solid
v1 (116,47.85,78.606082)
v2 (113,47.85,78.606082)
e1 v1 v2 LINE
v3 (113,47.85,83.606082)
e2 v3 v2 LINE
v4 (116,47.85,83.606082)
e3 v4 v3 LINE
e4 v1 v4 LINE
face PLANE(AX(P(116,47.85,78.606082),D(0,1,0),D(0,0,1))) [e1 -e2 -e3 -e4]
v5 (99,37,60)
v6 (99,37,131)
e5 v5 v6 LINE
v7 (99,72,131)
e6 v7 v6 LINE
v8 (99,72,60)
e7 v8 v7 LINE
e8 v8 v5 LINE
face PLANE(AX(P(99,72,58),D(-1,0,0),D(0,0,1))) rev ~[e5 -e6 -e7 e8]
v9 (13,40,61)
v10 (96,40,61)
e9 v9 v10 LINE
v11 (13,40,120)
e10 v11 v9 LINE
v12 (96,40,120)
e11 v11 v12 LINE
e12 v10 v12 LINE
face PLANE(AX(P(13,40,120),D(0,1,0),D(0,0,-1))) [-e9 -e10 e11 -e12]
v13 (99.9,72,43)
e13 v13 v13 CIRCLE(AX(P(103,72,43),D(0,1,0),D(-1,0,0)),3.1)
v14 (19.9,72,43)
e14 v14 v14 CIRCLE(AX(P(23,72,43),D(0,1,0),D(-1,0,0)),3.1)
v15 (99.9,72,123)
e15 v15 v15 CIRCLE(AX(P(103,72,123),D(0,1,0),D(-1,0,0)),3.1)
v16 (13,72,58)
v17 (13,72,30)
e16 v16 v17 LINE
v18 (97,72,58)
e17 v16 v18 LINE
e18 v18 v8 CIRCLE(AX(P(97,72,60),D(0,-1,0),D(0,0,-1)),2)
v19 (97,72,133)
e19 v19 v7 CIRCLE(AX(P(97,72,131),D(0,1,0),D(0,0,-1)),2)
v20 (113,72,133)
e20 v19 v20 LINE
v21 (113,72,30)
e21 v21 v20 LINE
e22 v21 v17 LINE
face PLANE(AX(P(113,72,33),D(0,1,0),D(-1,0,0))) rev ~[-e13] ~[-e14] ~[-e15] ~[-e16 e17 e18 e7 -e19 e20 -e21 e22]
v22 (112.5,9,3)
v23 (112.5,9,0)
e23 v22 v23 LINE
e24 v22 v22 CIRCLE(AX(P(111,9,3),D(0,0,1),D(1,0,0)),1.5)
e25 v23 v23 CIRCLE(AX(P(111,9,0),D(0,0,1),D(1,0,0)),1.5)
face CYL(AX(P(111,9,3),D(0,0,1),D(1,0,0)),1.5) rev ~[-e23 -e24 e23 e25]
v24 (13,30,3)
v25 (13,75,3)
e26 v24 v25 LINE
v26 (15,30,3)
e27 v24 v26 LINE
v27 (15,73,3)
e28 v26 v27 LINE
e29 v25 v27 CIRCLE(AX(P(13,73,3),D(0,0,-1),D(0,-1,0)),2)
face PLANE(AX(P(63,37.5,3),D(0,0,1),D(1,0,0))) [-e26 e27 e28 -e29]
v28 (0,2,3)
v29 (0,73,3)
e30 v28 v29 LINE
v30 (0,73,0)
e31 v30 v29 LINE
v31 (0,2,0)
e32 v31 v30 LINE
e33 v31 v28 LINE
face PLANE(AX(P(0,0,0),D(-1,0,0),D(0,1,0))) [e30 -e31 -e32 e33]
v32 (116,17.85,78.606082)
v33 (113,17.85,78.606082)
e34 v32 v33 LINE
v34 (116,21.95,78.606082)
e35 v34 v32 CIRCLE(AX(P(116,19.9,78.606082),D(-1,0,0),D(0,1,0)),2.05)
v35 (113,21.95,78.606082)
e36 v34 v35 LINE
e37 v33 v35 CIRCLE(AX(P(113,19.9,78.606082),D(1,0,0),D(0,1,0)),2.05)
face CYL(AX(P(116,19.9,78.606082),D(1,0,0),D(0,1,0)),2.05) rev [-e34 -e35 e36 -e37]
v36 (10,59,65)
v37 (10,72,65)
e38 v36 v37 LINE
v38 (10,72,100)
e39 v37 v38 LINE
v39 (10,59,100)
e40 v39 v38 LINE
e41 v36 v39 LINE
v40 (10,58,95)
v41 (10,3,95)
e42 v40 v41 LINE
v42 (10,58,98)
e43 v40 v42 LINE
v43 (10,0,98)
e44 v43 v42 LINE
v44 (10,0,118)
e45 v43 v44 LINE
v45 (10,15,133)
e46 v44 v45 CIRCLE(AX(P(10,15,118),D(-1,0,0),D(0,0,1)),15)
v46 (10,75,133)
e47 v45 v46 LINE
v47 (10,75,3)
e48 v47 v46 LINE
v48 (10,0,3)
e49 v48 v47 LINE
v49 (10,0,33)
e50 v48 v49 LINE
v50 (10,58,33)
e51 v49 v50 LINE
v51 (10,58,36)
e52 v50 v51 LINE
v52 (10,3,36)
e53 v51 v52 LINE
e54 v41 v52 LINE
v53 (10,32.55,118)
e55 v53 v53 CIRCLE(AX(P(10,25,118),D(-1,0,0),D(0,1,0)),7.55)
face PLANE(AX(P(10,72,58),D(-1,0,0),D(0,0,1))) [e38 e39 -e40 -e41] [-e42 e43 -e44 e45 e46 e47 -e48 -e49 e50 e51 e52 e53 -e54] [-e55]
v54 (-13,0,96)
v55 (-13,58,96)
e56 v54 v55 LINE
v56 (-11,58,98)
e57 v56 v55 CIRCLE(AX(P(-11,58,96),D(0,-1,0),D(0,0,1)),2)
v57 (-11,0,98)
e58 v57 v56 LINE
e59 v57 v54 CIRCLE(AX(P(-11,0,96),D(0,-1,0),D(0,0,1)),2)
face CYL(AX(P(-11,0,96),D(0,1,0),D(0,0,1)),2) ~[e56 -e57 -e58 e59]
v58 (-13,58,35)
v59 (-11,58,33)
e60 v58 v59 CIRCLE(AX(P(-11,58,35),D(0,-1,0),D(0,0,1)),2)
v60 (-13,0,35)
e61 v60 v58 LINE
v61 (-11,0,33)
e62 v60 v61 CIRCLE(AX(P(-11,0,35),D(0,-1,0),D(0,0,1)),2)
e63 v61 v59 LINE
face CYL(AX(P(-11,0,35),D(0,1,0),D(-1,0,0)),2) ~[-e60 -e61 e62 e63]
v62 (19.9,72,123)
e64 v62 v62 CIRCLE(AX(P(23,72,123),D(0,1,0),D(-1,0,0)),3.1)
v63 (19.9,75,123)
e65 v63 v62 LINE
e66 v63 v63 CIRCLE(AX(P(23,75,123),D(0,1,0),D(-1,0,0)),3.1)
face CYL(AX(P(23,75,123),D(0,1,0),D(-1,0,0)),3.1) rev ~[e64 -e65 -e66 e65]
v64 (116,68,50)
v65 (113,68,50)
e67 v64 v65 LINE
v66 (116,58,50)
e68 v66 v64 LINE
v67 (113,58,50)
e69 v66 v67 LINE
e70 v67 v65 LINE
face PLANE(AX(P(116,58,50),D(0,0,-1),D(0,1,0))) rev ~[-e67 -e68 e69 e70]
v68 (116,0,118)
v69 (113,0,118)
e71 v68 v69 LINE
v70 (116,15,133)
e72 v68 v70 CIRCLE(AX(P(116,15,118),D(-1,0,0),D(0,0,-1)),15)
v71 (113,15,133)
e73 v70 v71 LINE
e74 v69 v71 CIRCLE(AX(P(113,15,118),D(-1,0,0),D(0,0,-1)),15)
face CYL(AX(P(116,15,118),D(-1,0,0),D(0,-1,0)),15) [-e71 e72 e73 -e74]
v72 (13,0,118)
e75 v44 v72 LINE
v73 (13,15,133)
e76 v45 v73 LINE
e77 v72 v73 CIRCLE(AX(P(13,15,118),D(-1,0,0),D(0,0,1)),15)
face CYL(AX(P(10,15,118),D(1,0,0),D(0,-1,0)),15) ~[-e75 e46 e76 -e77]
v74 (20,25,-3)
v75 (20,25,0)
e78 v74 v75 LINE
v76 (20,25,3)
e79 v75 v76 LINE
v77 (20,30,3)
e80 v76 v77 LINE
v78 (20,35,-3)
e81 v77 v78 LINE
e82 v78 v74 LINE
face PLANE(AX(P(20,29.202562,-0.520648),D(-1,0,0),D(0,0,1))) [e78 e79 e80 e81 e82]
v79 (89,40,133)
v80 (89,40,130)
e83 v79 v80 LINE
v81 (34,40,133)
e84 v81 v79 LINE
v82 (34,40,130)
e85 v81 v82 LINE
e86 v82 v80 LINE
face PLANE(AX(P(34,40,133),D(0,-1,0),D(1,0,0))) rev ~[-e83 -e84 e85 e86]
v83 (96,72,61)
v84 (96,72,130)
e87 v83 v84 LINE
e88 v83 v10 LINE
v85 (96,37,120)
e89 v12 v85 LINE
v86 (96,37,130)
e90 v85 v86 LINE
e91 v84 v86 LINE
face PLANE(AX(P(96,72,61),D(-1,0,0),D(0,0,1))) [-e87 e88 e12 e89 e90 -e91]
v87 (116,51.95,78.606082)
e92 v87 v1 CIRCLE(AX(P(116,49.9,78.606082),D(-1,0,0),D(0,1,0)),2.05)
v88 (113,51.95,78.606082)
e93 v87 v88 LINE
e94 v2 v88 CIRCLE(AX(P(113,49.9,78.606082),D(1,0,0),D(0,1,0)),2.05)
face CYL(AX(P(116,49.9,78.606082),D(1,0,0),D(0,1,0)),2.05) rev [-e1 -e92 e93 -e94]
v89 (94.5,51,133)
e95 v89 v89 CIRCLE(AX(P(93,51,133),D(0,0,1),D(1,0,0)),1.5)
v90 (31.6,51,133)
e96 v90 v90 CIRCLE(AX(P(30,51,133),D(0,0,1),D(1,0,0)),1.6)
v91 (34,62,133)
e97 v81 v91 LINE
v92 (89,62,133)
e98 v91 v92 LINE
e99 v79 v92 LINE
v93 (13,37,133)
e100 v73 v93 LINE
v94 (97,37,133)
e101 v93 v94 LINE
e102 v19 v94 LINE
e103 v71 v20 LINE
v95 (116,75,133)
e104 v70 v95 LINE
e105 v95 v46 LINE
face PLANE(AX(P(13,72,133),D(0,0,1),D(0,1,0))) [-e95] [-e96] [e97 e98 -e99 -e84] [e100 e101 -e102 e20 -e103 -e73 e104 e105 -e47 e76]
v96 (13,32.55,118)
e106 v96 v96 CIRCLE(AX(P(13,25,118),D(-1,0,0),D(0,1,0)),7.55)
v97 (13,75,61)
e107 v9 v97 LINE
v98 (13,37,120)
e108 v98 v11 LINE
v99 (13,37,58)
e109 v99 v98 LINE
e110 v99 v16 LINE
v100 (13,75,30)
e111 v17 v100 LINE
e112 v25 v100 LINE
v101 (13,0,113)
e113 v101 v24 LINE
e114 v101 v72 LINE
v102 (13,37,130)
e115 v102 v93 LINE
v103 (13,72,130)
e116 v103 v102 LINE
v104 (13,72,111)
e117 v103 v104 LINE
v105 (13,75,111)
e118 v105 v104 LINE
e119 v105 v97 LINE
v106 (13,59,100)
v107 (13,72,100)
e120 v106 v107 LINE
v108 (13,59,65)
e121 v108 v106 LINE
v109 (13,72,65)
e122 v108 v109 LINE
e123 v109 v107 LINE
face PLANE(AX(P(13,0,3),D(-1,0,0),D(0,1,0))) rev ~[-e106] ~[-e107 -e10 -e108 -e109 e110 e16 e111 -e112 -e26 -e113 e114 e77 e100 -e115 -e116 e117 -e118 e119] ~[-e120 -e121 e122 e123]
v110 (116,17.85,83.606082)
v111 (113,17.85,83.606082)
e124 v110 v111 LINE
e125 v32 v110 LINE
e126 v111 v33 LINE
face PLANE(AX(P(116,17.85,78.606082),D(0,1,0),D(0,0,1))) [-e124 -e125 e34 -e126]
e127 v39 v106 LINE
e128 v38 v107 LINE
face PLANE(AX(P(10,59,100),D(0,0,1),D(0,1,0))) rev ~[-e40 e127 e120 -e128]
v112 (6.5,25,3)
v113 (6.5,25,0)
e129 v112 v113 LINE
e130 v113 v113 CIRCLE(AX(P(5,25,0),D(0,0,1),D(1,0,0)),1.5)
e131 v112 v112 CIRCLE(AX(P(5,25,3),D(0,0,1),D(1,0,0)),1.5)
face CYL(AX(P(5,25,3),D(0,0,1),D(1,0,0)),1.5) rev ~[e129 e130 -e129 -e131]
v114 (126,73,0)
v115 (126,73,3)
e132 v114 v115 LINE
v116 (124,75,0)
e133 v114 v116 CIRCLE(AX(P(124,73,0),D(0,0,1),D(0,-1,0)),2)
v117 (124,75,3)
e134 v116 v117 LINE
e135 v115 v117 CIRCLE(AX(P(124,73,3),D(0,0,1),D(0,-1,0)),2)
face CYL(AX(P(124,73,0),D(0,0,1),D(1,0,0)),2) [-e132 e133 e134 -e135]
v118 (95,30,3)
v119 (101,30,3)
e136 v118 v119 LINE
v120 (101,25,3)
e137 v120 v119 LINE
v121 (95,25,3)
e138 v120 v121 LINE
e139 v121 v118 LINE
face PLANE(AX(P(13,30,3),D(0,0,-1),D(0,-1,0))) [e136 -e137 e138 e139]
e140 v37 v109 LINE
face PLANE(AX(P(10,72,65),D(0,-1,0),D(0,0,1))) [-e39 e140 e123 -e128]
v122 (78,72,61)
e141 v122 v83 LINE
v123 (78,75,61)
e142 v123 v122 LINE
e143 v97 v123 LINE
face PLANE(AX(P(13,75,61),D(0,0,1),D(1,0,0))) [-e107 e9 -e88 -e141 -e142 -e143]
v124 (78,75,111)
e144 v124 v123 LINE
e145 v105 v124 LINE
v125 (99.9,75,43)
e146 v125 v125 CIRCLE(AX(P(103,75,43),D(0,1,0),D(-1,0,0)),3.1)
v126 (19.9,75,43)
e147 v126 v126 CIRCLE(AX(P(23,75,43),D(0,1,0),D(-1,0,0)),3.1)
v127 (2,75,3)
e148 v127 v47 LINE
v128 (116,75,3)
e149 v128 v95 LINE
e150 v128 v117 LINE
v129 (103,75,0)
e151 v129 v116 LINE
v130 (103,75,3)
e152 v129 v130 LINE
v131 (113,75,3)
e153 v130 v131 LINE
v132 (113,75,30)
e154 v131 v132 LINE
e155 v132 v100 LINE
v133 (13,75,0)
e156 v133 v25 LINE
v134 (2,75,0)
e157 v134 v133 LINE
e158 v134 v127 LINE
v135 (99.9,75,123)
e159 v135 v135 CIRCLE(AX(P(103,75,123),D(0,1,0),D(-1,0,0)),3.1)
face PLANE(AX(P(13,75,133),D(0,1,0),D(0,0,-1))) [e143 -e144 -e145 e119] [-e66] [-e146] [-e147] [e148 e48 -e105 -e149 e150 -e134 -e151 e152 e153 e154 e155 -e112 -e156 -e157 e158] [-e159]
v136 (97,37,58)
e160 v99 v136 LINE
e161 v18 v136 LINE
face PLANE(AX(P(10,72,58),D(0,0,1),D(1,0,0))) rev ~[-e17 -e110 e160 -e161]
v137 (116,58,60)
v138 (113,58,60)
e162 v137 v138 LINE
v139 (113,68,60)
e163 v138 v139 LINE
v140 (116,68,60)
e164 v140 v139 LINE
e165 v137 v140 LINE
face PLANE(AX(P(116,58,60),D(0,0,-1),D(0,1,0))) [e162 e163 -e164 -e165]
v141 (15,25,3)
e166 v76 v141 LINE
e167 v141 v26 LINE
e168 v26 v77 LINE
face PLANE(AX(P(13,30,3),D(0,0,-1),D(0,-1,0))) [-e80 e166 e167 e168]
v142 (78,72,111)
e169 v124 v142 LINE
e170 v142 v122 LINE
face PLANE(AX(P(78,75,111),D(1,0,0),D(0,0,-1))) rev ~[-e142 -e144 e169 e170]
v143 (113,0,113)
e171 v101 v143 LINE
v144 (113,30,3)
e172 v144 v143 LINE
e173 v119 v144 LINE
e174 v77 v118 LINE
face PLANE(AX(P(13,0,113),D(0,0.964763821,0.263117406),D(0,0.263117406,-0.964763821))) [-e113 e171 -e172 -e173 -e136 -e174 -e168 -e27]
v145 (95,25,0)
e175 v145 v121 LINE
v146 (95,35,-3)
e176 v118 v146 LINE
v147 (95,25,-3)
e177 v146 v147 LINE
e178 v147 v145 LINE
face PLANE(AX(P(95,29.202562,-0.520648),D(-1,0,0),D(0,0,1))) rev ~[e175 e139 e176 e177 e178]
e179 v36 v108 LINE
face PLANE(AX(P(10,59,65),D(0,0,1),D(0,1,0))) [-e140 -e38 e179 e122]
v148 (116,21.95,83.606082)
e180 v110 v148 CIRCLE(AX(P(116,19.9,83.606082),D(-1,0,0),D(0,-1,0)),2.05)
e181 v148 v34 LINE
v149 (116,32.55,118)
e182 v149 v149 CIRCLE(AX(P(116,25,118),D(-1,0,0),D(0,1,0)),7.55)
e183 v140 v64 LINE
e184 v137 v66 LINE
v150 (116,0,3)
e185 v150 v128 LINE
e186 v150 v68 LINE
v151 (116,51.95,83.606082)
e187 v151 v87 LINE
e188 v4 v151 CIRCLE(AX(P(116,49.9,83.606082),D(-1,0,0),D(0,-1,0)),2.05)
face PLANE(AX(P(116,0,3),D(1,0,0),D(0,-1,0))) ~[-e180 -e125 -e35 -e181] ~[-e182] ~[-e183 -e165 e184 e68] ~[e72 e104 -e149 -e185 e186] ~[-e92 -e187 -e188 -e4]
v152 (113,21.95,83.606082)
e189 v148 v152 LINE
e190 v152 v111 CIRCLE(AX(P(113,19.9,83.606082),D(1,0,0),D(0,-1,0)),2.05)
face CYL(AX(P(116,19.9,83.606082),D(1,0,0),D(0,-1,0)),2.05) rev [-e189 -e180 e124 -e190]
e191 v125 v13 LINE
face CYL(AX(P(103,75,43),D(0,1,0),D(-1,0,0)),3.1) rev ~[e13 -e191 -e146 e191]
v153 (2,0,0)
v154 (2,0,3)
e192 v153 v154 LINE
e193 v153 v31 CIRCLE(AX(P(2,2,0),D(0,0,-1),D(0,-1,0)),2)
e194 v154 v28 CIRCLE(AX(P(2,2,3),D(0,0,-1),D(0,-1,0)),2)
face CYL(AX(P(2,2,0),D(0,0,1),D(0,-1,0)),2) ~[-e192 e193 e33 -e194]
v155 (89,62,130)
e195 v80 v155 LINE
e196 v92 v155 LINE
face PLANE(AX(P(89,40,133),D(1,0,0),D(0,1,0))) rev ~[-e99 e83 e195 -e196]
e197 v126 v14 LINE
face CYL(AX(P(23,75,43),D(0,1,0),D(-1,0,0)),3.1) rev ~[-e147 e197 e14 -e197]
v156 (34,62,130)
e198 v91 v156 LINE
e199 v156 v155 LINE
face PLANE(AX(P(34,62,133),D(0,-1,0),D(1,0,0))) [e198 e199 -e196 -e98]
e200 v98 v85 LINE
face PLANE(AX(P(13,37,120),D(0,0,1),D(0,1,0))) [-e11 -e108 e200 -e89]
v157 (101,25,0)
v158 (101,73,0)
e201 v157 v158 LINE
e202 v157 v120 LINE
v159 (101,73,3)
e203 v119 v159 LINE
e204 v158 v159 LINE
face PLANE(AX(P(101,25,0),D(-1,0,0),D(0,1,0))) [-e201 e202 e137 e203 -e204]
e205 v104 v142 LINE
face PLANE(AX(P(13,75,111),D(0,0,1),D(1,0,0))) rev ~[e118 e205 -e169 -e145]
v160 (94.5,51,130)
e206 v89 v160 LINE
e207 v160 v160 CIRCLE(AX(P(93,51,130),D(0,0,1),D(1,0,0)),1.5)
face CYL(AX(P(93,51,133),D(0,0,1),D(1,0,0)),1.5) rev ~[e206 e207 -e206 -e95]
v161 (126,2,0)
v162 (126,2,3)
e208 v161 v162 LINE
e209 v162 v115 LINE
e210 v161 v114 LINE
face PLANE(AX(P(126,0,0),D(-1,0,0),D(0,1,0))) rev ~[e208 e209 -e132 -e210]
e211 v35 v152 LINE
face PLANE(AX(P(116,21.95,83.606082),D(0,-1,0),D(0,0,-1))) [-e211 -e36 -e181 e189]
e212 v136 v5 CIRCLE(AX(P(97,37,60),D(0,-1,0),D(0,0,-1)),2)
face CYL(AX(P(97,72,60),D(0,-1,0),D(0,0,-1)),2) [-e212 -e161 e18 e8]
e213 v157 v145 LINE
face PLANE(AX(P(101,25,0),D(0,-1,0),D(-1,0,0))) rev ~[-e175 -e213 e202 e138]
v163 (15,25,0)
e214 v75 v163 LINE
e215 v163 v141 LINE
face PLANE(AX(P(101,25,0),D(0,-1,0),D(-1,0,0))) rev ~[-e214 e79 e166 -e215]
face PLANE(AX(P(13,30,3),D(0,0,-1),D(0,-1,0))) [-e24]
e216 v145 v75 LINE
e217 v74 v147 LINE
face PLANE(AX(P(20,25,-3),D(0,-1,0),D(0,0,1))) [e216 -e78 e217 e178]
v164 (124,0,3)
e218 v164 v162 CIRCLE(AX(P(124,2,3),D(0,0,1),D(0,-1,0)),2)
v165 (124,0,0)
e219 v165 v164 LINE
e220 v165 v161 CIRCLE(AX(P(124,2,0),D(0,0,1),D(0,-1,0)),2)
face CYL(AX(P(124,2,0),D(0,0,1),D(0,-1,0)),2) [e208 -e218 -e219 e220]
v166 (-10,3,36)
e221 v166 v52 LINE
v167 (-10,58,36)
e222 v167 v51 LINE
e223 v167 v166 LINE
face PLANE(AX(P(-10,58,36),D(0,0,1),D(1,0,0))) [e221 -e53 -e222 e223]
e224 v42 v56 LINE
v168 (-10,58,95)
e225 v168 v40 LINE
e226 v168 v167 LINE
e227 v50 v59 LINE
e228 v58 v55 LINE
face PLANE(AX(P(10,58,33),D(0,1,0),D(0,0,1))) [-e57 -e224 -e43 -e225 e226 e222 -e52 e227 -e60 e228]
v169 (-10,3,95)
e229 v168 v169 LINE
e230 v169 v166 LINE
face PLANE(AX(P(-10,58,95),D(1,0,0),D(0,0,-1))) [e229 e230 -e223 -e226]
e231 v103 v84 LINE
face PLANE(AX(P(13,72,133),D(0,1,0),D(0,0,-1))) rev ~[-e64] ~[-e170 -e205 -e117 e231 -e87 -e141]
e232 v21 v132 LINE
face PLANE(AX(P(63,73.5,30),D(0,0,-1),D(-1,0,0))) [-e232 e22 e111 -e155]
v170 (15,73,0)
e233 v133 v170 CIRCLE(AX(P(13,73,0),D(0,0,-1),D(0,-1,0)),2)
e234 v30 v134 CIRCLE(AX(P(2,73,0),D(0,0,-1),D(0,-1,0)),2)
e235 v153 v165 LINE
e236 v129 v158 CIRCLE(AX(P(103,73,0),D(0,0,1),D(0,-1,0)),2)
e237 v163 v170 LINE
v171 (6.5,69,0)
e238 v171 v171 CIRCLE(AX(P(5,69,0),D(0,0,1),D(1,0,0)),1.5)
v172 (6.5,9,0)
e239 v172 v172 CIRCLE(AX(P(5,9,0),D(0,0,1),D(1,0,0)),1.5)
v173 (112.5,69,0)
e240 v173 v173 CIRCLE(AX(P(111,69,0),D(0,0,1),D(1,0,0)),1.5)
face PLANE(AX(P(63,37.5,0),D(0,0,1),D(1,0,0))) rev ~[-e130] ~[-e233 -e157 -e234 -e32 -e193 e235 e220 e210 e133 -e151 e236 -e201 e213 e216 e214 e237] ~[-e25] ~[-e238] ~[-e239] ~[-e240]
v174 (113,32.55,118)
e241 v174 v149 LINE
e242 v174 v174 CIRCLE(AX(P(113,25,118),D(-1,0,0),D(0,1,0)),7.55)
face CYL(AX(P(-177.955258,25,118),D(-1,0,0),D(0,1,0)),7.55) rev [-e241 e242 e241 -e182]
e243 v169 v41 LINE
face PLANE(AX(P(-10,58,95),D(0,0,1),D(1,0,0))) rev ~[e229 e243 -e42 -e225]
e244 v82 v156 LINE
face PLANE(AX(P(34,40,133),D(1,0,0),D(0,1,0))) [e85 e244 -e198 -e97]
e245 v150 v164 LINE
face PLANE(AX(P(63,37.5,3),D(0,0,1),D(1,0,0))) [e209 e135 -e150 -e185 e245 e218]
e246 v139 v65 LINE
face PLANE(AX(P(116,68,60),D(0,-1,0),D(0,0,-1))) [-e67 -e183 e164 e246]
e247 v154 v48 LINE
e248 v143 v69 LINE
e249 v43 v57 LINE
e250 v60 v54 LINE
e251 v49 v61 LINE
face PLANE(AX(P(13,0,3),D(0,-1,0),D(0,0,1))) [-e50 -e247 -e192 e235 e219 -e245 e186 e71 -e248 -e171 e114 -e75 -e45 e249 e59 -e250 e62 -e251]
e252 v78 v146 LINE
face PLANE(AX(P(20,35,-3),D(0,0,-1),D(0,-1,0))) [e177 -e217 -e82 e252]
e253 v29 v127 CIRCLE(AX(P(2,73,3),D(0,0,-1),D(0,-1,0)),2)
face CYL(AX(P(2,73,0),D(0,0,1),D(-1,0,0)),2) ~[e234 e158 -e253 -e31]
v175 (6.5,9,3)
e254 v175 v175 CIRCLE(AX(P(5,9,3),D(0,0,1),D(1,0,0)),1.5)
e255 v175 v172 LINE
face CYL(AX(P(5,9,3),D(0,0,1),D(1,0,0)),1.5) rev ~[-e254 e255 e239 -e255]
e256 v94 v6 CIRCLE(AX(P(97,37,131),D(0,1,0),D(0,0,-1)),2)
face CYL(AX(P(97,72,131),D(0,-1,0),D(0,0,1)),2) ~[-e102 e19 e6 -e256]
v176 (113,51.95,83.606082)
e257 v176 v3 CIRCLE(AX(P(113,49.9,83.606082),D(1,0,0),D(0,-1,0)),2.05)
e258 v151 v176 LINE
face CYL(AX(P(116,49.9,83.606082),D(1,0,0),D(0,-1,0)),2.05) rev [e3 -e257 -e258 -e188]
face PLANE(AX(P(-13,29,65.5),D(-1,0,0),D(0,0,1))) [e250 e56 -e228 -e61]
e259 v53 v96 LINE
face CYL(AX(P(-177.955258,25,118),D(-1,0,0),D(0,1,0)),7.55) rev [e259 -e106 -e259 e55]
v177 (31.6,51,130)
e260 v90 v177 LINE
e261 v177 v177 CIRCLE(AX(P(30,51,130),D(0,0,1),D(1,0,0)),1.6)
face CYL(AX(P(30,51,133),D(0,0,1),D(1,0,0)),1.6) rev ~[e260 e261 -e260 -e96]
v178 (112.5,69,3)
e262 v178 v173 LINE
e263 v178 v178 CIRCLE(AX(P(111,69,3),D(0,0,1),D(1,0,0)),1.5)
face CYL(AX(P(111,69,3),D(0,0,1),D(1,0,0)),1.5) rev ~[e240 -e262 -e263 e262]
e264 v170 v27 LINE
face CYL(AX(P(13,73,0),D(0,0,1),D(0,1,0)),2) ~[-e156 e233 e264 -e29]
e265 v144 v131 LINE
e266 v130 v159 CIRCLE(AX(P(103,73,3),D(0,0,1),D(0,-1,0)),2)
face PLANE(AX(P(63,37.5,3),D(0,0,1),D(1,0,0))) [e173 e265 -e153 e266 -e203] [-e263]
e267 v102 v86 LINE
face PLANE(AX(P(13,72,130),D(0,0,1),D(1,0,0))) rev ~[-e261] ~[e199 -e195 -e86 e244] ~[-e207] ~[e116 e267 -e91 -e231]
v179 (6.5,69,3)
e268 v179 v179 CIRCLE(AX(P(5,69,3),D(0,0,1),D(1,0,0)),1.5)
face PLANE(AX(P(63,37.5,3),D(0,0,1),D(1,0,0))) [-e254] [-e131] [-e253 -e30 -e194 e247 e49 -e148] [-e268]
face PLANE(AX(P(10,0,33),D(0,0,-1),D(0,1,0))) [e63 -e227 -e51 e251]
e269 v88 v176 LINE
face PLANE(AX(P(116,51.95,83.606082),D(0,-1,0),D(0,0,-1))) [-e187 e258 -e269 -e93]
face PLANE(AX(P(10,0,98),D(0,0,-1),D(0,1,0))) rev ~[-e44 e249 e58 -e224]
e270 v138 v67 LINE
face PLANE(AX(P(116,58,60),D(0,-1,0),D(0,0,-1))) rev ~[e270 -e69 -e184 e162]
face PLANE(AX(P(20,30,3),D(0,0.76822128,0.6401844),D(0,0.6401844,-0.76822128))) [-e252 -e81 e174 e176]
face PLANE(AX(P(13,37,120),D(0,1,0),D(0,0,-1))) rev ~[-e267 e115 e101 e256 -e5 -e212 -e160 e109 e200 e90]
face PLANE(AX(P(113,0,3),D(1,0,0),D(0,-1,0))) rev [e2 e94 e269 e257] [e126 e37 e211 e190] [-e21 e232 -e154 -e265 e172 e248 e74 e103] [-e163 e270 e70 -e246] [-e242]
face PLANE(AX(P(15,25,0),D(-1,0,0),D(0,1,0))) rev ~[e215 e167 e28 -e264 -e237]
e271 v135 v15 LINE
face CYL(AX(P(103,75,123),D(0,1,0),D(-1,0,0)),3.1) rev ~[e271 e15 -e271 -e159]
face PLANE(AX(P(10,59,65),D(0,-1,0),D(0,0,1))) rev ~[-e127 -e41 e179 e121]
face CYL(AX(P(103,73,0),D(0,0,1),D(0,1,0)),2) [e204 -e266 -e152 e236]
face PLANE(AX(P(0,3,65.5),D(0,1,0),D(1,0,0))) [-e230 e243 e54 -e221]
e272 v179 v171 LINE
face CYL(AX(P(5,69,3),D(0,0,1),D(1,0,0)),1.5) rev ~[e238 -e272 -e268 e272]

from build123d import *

# Parameters (mm, degrees)
SKETCH_1_W                      = 126
SKETCH_1_H                      = 75
EXTRUDE_1_DEPTH                 = 3
CUT_EXTRUDE_2_REACH             = 148.663
SKETCH_3_W                      = 86
SKETCH_3_H                      = 50
SKETCH_2_R                      = 1.5
CUT_EXTRUDE_1_DEPTH             = 147.662878739
SKETCH_4_W                      = 3
SKETCH_4_H                      = 75
EXTRUDE_2_DEPTH                 = 130
SKETCH_10_W                     = 100
SKETCH_10_H                     = 3
EXTRUDE_5_DEPTH                 = 100
CUT_EXTRUDE_5_REACH             = 199.965
SKETCH_9_R                      = 3.1
CUT_EXTRUDE_5_DIRECTION_2_DEPTH = 198.964643308
EXTRUDE_7_REACH                 = 191.955
CUT_EXTRUDE_9_DEPTH             = 190.95525789
CUT_EXTRUDE_9_DEPTH_BACK        = 190.95525789
SKETCH_18_R                     = 7.55
SKETCH_33_W                     = 65
SKETCH_33_H                     = 50
CUT_EXTRUDE_14_DEPTH            = 5
FILLET_1_R                      = 2
FILLET_2_R                      = 15
CUT_EXTRUDE_11_DEPTH            = 10
SKETCH_37_W                     = 89
SKETCH_37_H                     = 75
SKETCH_37_W_2                   = 83
SKETCH_37_H_2                   = 69
EXTRUDE_21_DEPTH                = 35
EXTRUDE_22_REACH                = 191.955
SKETCH_38_W                     = 59
SKETCH_38_H                     = 3
EXTRUDE_START                   = 5
EXTRUDE_23_DEPTH                = 75
SKETCH_43_W                     = 65
SKETCH_43_H                     = 58
EXTRUDE_24_DEPTH                = 23
SKETCH_44_W                     = 20
SKETCH_44_H                     = 59
CUT_EXTRUDE_15_DEPTH            = 55
SKETCH_48_W                     = 35
SKETCH_48_H                     = 13
CUT_EXTRUDE_16_DEPTH            = 12
SKETCH_49_W                     = 55
SKETCH_49_H                     = 22
CUT_EXTRUDE_18_DEPTH            = 12
SKETCH_50_R                     = 1.6
SKETCH_50_R_2                   = 1.5
CUT_EXTRUDE_19_DEPTH            = 12
CUT_EXTRUDE_21_REACH            = 201.887
SKETCH_52_W                     = 10
SKETCH_52_H                     = 10
FILLET_3_R                      = 2
SKETCH_53_W                     = 100
SKETCH_53_H                     = 3
EXTRUDE_25_DEPTH                = 3


with BuildPart() as part:
    # 草图1 → 凸台-拉伸1 (new body)
    with BuildSketch(Plane.XY):
        with Locations((63, 37.5)):
            Rectangle(SKETCH_1_W, SKETCH_1_H)
    extrude(amount=EXTRUDE_1_DEPTH)

    # 草图3 → 切除-拉伸2 (cut, up to next)
    with BuildSketch(Plane(origin=(0, 0, 0), x_dir=(-1, 0, 0), z_dir=(0, 0, -1)), mode=Mode.PRIVATE) as cut_extrude_2_sk1:
        with Locations((-58, 50)):
            Rectangle(SKETCH_3_W, SKETCH_3_H)
    cut_extrude_2_tool1 = extrude(cut_extrude_2_sk1.sketch, amount=-CUT_EXTRUDE_2_REACH, mode=Mode.PRIVATE) & part.part
    add(cut_extrude_2_tool1.solids().sort_by_distance((58, 50, 0))[0], mode=Mode.SUBTRACT)

    # 草图2 → 切除-拉伸1 (cut, through all)
    with BuildSketch(Plane.XY.offset(3)):
        with Locations((5, 69)):
            Circle(SKETCH_2_R)
        with Locations((5, 25)):
            Circle(SKETCH_2_R)
        with Locations((5, 9)):
            Circle(SKETCH_2_R)
        with Locations((111, 69)):
            Circle(SKETCH_2_R)
        with Locations((111, 9)):
            Circle(SKETCH_2_R)
    extrude(amount=-CUT_EXTRUDE_1_DEPTH, mode=Mode.SUBTRACT)

    # 草图4 → 凸台-拉伸2 (add)
    with BuildSketch(Plane.XY.offset(3)):
        with Locations((11.5, 37.5)):
            Rectangle(SKETCH_4_W, SKETCH_4_H)
    extrude_2 = extrude(amount=EXTRUDE_2_DEPTH)

    # 镜向1: 凸台-拉伸2 across plane
    add(extrude_2.mirror(Plane.ZY.offset(-63)))

    # 草图10 → 凸台-拉伸5 (add)
    with BuildSketch(Plane(origin=(13, 0, 0), x_dir=(0, 0, -1), z_dir=(1, 0, 0))):
        with Locations((-83, 73.5)):
            Rectangle(SKETCH_10_W, SKETCH_10_H)
    extrude(amount=EXTRUDE_5_DEPTH)

    # 草图9 → 切除-拉伸5 (cut, up to next)
    with BuildSketch(Plane(origin=(0, 75, 0), x_dir=(1, 0, 0), z_dir=(0, 1, 0)), mode=Mode.PRIVATE) as cut_extrude_5_sk1:
        with Locations(Location((23, -123, 0), (0, 0, 180))):
            Circle(SKETCH_9_R)
    cut_extrude_5_tool1 = extrude(cut_extrude_5_sk1.sketch, amount=-CUT_EXTRUDE_5_REACH, mode=Mode.PRIVATE) & part.part
    # 草图9 → 切除-拉伸5 (cut, up to next)
    with BuildSketch(Plane(origin=(0, 75, 0), x_dir=(1, 0, 0), z_dir=(0, 1, 0)), mode=Mode.PRIVATE) as cut_extrude_5_sk2:
        with Locations(Location((23, -43, 0), (0, 0, 180))):
            Circle(SKETCH_9_R)
    cut_extrude_5_tool2 = extrude(cut_extrude_5_sk2.sketch, amount=-CUT_EXTRUDE_5_REACH, mode=Mode.PRIVATE) & part.part
    # 草图9 → 切除-拉伸5 (cut, up to next)
    with BuildSketch(Plane(origin=(0, 75, 0), x_dir=(1, 0, 0), z_dir=(0, 1, 0)), mode=Mode.PRIVATE) as cut_extrude_5_sk3:
        with Locations(Location((103, -123, 0), (0, 0, 180))):
            Circle(SKETCH_9_R)
    cut_extrude_5_tool3 = extrude(cut_extrude_5_sk3.sketch, amount=-CUT_EXTRUDE_5_REACH, mode=Mode.PRIVATE) & part.part
    # 草图9 → 切除-拉伸5 (cut, up to next)
    with BuildSketch(Plane(origin=(0, 75, 0), x_dir=(1, 0, 0), z_dir=(0, 1, 0)), mode=Mode.PRIVATE) as cut_extrude_5_sk4:
        with Locations(Location((103, -43, 0), (0, 0, 180))):
            Circle(SKETCH_9_R)
    cut_extrude_5_tool4 = extrude(cut_extrude_5_sk4.sketch, amount=-CUT_EXTRUDE_5_REACH, mode=Mode.PRIVATE) & part.part
    add(cut_extrude_5_tool1.solids().sort_by_distance((23, 75, 123))[0], mode=Mode.SUBTRACT)
    add(cut_extrude_5_tool2.solids().sort_by_distance((23, 75, 43))[0], mode=Mode.SUBTRACT)
    add(cut_extrude_5_tool3.solids().sort_by_distance((103, 75, 123))[0], mode=Mode.SUBTRACT)
    add(cut_extrude_5_tool4.solids().sort_by_distance((103, 75, 43))[0], mode=Mode.SUBTRACT)

    # 草图9 → 切除-拉伸5 direction 2 (cut)
    with BuildSketch(Plane(origin=(0, 75, 0), x_dir=(1, 0, 0), z_dir=(0, 1, 0))):
        with Locations(Location((23, -123, 0), (0, 0, 180))):
            Circle(SKETCH_9_R)
        with Locations(Location((23, -43, 0), (0, 0, 180))):
            Circle(SKETCH_9_R)
        with Locations(Location((103, -123, 0), (0, 0, 180))):
            Circle(SKETCH_9_R)
        with Locations(Location((103, -43, 0), (0, 0, 180))):
            Circle(SKETCH_9_R)
    extrude(amount=CUT_EXTRUDE_5_DIRECTION_2_DEPTH, mode=Mode.SUBTRACT)

    # 凸台-拉伸7: up to this face of the body (flat: up to its plane)
    extrude_7_end = Plane(part.part.faces().sort_by_distance((113, 36.357142857, 67.523809524))[0])
    # 草图17 → 凸台-拉伸7 (add, up to the picked face)
    with BuildSketch(Plane(origin=(13, 0, 0), x_dir=(0, 0, -1), z_dir=(1, 0, 0)), mode=Mode.PRIVATE) as extrude_7_sk1:
        Polygon((-3, 0), (-113, 0), (-3, 30), align=None)
    extrude_7_tool1 = split(extrude(extrude_7_sk1.sketch, amount=EXTRUDE_7_REACH, mode=Mode.PRIVATE), bisect_by=extrude_7_end, keep=Keep.BOTH, mode=Mode.PRIVATE)
    add(extrude_7_tool1.solids().sort_by(Axis((13, 10, 39.666667), (1, 0, 0)))[0])

    # 草图18 → 切除-拉伸9 (cut, two sides: drawn at the far end of the back side and taken through both)
    with BuildSketch(Plane(origin=(13, 0, 0), x_dir=(0, 0, -1), z_dir=(1, 0, 0)).offset(-CUT_EXTRUDE_9_DEPTH_BACK)):
        with Locations(Location((-118, 25, 0), (0, 0, 90))):
            Circle(SKETCH_18_R)
    extrude(amount=CUT_EXTRUDE_9_DEPTH + CUT_EXTRUDE_9_DEPTH_BACK, mode=Mode.SUBTRACT)

    # 草图33 → 切除-拉伸14 (cut)
    with BuildSketch(Plane(origin=(0, 75, 0), x_dir=(1, 0, 0), z_dir=(0, 1, 0))):
        with Locations((45.5, -86)):
            Rectangle(SKETCH_33_W, SKETCH_33_H)
    extrude(amount=-CUT_EXTRUDE_14_DEPTH, mode=Mode.SUBTRACT)

    # 圆角1
    fillet_1_edges = [part.edges().sort_by_distance(p)[0] for p in [
        (101, 75, 1.5),
        (15, 75, 1.5),
        (0, 0, 1.5),
        (0, 75, 1.5),
        (126, 75, 1.5),
        (126, 0, 1.5),
    ]]
    fillet(fillet_1_edges, radius=FILLET_1_R)

    # 圆角2
    fillet_2_edges = [part.edges().sort_by_distance(p)[0] for p in [
        (11.5, 0, 133),
        (114.5, 0, 133),
    ]]
    fillet(fillet_2_edges, radius=FILLET_2_R)

    # 草图20 → 切除-拉伸11 (cut)
    with BuildSketch(Plane(origin=(116, 0, 0), x_dir=(0, 0, -1), z_dir=(1, 0, 0))):
        with BuildLine():
            Line((-83.606081957, 51.95), (-78.606081957, 51.95))
            ThreePointArc((-78.606081957, 51.95), (-76.556081957, 49.9), (-78.606081957, 47.85))
            Line((-78.606081957, 47.85), (-83.606081957, 47.85))
            ThreePointArc((-83.606081957, 47.85), (-85.656081957, 49.9), (-83.606081957, 51.95))
        make_face()
        with BuildLine():
            Line((-83.606081957, 21.95), (-78.606081957, 21.95))
            ThreePointArc((-78.606081957, 21.95), (-76.556081957, 19.9), (-78.606081957, 17.85))
            Line((-78.606081957, 17.85), (-83.606081957, 17.85))
            ThreePointArc((-83.606081957, 17.85), (-85.656081957, 19.9), (-83.606081957, 21.95))
        make_face()
    extrude(amount=-CUT_EXTRUDE_11_DEPTH, mode=Mode.SUBTRACT)

    # 草图37 → 凸台-拉伸21 (add)
    with BuildSketch(Plane.XZ.offset(-72)):
        with Locations((54.5, 95.5)):
            Rectangle(SKETCH_37_W, SKETCH_37_H)
        with Locations((54.5, 95.5)):
            Rectangle(SKETCH_37_W_2, SKETCH_37_H_2, mode=Mode.SUBTRACT)
    extrude(amount=EXTRUDE_21_DEPTH)

    # 草图38 → 凸台-拉伸22 (add, up to next)
    with BuildSketch(Plane(origin=(13, 0, 0), x_dir=(0, 0, -1), z_dir=(1, 0, 0)), mode=Mode.PRIVATE) as extrude_22_sk1:
        with Locations((-90.5, 38.5)):
            Rectangle(SKETCH_38_W, SKETCH_38_H)
    extrude_22_tool1 = extrude(extrude_22_sk1.sketch, amount=EXTRUDE_22_REACH, mode=Mode.PRIVATE) - part.part
    add(extrude_22_tool1.solids().sort_by_distance((13, 38.5, 90.5))[0])

    # 草图41 → 凸台-拉伸23 (add)
    with BuildSketch(Plane(origin=(15, 0, 0), x_dir=(0, 0, -1), z_dir=(1, 0, 0)).offset(EXTRUDE_START)):
        Polygon((-3, 25), (-3, 30), (3, 35), (3, 25), align=None)
    extrude(amount=EXTRUDE_23_DEPTH)

    # 草图43 → 凸台-拉伸24 (add)
    with BuildSketch(Plane.ZY.offset(-10)):
        with Locations((65.5, 29)):
            Rectangle(SKETCH_43_W, SKETCH_43_H)
    extrude(amount=EXTRUDE_24_DEPTH)

    # 草图44 → 切除-拉伸15 (cut)
    with BuildSketch(Plane(origin=(0, 58, 0), x_dir=(1, 0, 0), z_dir=(0, 1, 0))):
        with Locations((0, -65.5)):
            Rectangle(SKETCH_44_W, SKETCH_44_H)
    extrude(amount=-CUT_EXTRUDE_15_DEPTH, mode=Mode.SUBTRACT)

    # 草图48 → 切除-拉伸16 (cut)
    with BuildSketch(Plane.ZY.offset(-10)):
        with Locations((82.5, 65.5)):
            Rectangle(SKETCH_48_W, SKETCH_48_H)
    extrude(amount=-CUT_EXTRUDE_16_DEPTH, mode=Mode.SUBTRACT)

    # 草图49 → 切除-拉伸18 (cut)
    with BuildSketch(Plane.XY.offset(133)):
        with Locations((61.5, 51)):
            Rectangle(SKETCH_49_W, SKETCH_49_H)
    extrude(amount=-CUT_EXTRUDE_18_DEPTH, mode=Mode.SUBTRACT)

    # 草图50 → 切除-拉伸19 (cut)
    with BuildSketch(Plane.XY.offset(133)):
        with Locations((30, 51)):
            Circle(SKETCH_50_R)
        with Locations((93, 51)):
            Circle(SKETCH_50_R_2)
    extrude(amount=-CUT_EXTRUDE_19_DEPTH, mode=Mode.SUBTRACT)

    # 草图52 → 切除-拉伸21 (cut, up to next)
    with BuildSketch(Plane(origin=(116, 0, 0), x_dir=(0, 0, -1), z_dir=(1, 0, 0)), mode=Mode.PRIVATE) as cut_extrude_21_sk1:
        with Locations((-55, 63)):
            Rectangle(SKETCH_52_W, SKETCH_52_H)
    cut_extrude_21_tool1 = extrude(cut_extrude_21_sk1.sketch, amount=-CUT_EXTRUDE_21_REACH, mode=Mode.PRIVATE) & part.part
    add(cut_extrude_21_tool1.solids().sort_by_distance((116, 63, 55))[0], mode=Mode.SUBTRACT)

    # 圆角3
    fillet_3_edges = [part.edges().sort_by_distance(p)[0] for p in [
        (99, 54.5, 133),
        (99, 54.5, 58),
        (-13, 29, 33),
        (-13, 29, 98),
    ]]
    fillet(fillet_3_edges, radius=FILLET_3_R)

    # 草图53 → 凸台-拉伸25 (add)
    with BuildSketch(Plane(origin=(0, 0, 33), x_dir=(-1, 0, 0), z_dir=(0, 0, -1))):
        with Locations((-63, 73.5)):
            Rectangle(SKETCH_53_W, SKETCH_53_H)
    extrude(amount=EXTRUDE_25_DEPTH)


solid = part.part
